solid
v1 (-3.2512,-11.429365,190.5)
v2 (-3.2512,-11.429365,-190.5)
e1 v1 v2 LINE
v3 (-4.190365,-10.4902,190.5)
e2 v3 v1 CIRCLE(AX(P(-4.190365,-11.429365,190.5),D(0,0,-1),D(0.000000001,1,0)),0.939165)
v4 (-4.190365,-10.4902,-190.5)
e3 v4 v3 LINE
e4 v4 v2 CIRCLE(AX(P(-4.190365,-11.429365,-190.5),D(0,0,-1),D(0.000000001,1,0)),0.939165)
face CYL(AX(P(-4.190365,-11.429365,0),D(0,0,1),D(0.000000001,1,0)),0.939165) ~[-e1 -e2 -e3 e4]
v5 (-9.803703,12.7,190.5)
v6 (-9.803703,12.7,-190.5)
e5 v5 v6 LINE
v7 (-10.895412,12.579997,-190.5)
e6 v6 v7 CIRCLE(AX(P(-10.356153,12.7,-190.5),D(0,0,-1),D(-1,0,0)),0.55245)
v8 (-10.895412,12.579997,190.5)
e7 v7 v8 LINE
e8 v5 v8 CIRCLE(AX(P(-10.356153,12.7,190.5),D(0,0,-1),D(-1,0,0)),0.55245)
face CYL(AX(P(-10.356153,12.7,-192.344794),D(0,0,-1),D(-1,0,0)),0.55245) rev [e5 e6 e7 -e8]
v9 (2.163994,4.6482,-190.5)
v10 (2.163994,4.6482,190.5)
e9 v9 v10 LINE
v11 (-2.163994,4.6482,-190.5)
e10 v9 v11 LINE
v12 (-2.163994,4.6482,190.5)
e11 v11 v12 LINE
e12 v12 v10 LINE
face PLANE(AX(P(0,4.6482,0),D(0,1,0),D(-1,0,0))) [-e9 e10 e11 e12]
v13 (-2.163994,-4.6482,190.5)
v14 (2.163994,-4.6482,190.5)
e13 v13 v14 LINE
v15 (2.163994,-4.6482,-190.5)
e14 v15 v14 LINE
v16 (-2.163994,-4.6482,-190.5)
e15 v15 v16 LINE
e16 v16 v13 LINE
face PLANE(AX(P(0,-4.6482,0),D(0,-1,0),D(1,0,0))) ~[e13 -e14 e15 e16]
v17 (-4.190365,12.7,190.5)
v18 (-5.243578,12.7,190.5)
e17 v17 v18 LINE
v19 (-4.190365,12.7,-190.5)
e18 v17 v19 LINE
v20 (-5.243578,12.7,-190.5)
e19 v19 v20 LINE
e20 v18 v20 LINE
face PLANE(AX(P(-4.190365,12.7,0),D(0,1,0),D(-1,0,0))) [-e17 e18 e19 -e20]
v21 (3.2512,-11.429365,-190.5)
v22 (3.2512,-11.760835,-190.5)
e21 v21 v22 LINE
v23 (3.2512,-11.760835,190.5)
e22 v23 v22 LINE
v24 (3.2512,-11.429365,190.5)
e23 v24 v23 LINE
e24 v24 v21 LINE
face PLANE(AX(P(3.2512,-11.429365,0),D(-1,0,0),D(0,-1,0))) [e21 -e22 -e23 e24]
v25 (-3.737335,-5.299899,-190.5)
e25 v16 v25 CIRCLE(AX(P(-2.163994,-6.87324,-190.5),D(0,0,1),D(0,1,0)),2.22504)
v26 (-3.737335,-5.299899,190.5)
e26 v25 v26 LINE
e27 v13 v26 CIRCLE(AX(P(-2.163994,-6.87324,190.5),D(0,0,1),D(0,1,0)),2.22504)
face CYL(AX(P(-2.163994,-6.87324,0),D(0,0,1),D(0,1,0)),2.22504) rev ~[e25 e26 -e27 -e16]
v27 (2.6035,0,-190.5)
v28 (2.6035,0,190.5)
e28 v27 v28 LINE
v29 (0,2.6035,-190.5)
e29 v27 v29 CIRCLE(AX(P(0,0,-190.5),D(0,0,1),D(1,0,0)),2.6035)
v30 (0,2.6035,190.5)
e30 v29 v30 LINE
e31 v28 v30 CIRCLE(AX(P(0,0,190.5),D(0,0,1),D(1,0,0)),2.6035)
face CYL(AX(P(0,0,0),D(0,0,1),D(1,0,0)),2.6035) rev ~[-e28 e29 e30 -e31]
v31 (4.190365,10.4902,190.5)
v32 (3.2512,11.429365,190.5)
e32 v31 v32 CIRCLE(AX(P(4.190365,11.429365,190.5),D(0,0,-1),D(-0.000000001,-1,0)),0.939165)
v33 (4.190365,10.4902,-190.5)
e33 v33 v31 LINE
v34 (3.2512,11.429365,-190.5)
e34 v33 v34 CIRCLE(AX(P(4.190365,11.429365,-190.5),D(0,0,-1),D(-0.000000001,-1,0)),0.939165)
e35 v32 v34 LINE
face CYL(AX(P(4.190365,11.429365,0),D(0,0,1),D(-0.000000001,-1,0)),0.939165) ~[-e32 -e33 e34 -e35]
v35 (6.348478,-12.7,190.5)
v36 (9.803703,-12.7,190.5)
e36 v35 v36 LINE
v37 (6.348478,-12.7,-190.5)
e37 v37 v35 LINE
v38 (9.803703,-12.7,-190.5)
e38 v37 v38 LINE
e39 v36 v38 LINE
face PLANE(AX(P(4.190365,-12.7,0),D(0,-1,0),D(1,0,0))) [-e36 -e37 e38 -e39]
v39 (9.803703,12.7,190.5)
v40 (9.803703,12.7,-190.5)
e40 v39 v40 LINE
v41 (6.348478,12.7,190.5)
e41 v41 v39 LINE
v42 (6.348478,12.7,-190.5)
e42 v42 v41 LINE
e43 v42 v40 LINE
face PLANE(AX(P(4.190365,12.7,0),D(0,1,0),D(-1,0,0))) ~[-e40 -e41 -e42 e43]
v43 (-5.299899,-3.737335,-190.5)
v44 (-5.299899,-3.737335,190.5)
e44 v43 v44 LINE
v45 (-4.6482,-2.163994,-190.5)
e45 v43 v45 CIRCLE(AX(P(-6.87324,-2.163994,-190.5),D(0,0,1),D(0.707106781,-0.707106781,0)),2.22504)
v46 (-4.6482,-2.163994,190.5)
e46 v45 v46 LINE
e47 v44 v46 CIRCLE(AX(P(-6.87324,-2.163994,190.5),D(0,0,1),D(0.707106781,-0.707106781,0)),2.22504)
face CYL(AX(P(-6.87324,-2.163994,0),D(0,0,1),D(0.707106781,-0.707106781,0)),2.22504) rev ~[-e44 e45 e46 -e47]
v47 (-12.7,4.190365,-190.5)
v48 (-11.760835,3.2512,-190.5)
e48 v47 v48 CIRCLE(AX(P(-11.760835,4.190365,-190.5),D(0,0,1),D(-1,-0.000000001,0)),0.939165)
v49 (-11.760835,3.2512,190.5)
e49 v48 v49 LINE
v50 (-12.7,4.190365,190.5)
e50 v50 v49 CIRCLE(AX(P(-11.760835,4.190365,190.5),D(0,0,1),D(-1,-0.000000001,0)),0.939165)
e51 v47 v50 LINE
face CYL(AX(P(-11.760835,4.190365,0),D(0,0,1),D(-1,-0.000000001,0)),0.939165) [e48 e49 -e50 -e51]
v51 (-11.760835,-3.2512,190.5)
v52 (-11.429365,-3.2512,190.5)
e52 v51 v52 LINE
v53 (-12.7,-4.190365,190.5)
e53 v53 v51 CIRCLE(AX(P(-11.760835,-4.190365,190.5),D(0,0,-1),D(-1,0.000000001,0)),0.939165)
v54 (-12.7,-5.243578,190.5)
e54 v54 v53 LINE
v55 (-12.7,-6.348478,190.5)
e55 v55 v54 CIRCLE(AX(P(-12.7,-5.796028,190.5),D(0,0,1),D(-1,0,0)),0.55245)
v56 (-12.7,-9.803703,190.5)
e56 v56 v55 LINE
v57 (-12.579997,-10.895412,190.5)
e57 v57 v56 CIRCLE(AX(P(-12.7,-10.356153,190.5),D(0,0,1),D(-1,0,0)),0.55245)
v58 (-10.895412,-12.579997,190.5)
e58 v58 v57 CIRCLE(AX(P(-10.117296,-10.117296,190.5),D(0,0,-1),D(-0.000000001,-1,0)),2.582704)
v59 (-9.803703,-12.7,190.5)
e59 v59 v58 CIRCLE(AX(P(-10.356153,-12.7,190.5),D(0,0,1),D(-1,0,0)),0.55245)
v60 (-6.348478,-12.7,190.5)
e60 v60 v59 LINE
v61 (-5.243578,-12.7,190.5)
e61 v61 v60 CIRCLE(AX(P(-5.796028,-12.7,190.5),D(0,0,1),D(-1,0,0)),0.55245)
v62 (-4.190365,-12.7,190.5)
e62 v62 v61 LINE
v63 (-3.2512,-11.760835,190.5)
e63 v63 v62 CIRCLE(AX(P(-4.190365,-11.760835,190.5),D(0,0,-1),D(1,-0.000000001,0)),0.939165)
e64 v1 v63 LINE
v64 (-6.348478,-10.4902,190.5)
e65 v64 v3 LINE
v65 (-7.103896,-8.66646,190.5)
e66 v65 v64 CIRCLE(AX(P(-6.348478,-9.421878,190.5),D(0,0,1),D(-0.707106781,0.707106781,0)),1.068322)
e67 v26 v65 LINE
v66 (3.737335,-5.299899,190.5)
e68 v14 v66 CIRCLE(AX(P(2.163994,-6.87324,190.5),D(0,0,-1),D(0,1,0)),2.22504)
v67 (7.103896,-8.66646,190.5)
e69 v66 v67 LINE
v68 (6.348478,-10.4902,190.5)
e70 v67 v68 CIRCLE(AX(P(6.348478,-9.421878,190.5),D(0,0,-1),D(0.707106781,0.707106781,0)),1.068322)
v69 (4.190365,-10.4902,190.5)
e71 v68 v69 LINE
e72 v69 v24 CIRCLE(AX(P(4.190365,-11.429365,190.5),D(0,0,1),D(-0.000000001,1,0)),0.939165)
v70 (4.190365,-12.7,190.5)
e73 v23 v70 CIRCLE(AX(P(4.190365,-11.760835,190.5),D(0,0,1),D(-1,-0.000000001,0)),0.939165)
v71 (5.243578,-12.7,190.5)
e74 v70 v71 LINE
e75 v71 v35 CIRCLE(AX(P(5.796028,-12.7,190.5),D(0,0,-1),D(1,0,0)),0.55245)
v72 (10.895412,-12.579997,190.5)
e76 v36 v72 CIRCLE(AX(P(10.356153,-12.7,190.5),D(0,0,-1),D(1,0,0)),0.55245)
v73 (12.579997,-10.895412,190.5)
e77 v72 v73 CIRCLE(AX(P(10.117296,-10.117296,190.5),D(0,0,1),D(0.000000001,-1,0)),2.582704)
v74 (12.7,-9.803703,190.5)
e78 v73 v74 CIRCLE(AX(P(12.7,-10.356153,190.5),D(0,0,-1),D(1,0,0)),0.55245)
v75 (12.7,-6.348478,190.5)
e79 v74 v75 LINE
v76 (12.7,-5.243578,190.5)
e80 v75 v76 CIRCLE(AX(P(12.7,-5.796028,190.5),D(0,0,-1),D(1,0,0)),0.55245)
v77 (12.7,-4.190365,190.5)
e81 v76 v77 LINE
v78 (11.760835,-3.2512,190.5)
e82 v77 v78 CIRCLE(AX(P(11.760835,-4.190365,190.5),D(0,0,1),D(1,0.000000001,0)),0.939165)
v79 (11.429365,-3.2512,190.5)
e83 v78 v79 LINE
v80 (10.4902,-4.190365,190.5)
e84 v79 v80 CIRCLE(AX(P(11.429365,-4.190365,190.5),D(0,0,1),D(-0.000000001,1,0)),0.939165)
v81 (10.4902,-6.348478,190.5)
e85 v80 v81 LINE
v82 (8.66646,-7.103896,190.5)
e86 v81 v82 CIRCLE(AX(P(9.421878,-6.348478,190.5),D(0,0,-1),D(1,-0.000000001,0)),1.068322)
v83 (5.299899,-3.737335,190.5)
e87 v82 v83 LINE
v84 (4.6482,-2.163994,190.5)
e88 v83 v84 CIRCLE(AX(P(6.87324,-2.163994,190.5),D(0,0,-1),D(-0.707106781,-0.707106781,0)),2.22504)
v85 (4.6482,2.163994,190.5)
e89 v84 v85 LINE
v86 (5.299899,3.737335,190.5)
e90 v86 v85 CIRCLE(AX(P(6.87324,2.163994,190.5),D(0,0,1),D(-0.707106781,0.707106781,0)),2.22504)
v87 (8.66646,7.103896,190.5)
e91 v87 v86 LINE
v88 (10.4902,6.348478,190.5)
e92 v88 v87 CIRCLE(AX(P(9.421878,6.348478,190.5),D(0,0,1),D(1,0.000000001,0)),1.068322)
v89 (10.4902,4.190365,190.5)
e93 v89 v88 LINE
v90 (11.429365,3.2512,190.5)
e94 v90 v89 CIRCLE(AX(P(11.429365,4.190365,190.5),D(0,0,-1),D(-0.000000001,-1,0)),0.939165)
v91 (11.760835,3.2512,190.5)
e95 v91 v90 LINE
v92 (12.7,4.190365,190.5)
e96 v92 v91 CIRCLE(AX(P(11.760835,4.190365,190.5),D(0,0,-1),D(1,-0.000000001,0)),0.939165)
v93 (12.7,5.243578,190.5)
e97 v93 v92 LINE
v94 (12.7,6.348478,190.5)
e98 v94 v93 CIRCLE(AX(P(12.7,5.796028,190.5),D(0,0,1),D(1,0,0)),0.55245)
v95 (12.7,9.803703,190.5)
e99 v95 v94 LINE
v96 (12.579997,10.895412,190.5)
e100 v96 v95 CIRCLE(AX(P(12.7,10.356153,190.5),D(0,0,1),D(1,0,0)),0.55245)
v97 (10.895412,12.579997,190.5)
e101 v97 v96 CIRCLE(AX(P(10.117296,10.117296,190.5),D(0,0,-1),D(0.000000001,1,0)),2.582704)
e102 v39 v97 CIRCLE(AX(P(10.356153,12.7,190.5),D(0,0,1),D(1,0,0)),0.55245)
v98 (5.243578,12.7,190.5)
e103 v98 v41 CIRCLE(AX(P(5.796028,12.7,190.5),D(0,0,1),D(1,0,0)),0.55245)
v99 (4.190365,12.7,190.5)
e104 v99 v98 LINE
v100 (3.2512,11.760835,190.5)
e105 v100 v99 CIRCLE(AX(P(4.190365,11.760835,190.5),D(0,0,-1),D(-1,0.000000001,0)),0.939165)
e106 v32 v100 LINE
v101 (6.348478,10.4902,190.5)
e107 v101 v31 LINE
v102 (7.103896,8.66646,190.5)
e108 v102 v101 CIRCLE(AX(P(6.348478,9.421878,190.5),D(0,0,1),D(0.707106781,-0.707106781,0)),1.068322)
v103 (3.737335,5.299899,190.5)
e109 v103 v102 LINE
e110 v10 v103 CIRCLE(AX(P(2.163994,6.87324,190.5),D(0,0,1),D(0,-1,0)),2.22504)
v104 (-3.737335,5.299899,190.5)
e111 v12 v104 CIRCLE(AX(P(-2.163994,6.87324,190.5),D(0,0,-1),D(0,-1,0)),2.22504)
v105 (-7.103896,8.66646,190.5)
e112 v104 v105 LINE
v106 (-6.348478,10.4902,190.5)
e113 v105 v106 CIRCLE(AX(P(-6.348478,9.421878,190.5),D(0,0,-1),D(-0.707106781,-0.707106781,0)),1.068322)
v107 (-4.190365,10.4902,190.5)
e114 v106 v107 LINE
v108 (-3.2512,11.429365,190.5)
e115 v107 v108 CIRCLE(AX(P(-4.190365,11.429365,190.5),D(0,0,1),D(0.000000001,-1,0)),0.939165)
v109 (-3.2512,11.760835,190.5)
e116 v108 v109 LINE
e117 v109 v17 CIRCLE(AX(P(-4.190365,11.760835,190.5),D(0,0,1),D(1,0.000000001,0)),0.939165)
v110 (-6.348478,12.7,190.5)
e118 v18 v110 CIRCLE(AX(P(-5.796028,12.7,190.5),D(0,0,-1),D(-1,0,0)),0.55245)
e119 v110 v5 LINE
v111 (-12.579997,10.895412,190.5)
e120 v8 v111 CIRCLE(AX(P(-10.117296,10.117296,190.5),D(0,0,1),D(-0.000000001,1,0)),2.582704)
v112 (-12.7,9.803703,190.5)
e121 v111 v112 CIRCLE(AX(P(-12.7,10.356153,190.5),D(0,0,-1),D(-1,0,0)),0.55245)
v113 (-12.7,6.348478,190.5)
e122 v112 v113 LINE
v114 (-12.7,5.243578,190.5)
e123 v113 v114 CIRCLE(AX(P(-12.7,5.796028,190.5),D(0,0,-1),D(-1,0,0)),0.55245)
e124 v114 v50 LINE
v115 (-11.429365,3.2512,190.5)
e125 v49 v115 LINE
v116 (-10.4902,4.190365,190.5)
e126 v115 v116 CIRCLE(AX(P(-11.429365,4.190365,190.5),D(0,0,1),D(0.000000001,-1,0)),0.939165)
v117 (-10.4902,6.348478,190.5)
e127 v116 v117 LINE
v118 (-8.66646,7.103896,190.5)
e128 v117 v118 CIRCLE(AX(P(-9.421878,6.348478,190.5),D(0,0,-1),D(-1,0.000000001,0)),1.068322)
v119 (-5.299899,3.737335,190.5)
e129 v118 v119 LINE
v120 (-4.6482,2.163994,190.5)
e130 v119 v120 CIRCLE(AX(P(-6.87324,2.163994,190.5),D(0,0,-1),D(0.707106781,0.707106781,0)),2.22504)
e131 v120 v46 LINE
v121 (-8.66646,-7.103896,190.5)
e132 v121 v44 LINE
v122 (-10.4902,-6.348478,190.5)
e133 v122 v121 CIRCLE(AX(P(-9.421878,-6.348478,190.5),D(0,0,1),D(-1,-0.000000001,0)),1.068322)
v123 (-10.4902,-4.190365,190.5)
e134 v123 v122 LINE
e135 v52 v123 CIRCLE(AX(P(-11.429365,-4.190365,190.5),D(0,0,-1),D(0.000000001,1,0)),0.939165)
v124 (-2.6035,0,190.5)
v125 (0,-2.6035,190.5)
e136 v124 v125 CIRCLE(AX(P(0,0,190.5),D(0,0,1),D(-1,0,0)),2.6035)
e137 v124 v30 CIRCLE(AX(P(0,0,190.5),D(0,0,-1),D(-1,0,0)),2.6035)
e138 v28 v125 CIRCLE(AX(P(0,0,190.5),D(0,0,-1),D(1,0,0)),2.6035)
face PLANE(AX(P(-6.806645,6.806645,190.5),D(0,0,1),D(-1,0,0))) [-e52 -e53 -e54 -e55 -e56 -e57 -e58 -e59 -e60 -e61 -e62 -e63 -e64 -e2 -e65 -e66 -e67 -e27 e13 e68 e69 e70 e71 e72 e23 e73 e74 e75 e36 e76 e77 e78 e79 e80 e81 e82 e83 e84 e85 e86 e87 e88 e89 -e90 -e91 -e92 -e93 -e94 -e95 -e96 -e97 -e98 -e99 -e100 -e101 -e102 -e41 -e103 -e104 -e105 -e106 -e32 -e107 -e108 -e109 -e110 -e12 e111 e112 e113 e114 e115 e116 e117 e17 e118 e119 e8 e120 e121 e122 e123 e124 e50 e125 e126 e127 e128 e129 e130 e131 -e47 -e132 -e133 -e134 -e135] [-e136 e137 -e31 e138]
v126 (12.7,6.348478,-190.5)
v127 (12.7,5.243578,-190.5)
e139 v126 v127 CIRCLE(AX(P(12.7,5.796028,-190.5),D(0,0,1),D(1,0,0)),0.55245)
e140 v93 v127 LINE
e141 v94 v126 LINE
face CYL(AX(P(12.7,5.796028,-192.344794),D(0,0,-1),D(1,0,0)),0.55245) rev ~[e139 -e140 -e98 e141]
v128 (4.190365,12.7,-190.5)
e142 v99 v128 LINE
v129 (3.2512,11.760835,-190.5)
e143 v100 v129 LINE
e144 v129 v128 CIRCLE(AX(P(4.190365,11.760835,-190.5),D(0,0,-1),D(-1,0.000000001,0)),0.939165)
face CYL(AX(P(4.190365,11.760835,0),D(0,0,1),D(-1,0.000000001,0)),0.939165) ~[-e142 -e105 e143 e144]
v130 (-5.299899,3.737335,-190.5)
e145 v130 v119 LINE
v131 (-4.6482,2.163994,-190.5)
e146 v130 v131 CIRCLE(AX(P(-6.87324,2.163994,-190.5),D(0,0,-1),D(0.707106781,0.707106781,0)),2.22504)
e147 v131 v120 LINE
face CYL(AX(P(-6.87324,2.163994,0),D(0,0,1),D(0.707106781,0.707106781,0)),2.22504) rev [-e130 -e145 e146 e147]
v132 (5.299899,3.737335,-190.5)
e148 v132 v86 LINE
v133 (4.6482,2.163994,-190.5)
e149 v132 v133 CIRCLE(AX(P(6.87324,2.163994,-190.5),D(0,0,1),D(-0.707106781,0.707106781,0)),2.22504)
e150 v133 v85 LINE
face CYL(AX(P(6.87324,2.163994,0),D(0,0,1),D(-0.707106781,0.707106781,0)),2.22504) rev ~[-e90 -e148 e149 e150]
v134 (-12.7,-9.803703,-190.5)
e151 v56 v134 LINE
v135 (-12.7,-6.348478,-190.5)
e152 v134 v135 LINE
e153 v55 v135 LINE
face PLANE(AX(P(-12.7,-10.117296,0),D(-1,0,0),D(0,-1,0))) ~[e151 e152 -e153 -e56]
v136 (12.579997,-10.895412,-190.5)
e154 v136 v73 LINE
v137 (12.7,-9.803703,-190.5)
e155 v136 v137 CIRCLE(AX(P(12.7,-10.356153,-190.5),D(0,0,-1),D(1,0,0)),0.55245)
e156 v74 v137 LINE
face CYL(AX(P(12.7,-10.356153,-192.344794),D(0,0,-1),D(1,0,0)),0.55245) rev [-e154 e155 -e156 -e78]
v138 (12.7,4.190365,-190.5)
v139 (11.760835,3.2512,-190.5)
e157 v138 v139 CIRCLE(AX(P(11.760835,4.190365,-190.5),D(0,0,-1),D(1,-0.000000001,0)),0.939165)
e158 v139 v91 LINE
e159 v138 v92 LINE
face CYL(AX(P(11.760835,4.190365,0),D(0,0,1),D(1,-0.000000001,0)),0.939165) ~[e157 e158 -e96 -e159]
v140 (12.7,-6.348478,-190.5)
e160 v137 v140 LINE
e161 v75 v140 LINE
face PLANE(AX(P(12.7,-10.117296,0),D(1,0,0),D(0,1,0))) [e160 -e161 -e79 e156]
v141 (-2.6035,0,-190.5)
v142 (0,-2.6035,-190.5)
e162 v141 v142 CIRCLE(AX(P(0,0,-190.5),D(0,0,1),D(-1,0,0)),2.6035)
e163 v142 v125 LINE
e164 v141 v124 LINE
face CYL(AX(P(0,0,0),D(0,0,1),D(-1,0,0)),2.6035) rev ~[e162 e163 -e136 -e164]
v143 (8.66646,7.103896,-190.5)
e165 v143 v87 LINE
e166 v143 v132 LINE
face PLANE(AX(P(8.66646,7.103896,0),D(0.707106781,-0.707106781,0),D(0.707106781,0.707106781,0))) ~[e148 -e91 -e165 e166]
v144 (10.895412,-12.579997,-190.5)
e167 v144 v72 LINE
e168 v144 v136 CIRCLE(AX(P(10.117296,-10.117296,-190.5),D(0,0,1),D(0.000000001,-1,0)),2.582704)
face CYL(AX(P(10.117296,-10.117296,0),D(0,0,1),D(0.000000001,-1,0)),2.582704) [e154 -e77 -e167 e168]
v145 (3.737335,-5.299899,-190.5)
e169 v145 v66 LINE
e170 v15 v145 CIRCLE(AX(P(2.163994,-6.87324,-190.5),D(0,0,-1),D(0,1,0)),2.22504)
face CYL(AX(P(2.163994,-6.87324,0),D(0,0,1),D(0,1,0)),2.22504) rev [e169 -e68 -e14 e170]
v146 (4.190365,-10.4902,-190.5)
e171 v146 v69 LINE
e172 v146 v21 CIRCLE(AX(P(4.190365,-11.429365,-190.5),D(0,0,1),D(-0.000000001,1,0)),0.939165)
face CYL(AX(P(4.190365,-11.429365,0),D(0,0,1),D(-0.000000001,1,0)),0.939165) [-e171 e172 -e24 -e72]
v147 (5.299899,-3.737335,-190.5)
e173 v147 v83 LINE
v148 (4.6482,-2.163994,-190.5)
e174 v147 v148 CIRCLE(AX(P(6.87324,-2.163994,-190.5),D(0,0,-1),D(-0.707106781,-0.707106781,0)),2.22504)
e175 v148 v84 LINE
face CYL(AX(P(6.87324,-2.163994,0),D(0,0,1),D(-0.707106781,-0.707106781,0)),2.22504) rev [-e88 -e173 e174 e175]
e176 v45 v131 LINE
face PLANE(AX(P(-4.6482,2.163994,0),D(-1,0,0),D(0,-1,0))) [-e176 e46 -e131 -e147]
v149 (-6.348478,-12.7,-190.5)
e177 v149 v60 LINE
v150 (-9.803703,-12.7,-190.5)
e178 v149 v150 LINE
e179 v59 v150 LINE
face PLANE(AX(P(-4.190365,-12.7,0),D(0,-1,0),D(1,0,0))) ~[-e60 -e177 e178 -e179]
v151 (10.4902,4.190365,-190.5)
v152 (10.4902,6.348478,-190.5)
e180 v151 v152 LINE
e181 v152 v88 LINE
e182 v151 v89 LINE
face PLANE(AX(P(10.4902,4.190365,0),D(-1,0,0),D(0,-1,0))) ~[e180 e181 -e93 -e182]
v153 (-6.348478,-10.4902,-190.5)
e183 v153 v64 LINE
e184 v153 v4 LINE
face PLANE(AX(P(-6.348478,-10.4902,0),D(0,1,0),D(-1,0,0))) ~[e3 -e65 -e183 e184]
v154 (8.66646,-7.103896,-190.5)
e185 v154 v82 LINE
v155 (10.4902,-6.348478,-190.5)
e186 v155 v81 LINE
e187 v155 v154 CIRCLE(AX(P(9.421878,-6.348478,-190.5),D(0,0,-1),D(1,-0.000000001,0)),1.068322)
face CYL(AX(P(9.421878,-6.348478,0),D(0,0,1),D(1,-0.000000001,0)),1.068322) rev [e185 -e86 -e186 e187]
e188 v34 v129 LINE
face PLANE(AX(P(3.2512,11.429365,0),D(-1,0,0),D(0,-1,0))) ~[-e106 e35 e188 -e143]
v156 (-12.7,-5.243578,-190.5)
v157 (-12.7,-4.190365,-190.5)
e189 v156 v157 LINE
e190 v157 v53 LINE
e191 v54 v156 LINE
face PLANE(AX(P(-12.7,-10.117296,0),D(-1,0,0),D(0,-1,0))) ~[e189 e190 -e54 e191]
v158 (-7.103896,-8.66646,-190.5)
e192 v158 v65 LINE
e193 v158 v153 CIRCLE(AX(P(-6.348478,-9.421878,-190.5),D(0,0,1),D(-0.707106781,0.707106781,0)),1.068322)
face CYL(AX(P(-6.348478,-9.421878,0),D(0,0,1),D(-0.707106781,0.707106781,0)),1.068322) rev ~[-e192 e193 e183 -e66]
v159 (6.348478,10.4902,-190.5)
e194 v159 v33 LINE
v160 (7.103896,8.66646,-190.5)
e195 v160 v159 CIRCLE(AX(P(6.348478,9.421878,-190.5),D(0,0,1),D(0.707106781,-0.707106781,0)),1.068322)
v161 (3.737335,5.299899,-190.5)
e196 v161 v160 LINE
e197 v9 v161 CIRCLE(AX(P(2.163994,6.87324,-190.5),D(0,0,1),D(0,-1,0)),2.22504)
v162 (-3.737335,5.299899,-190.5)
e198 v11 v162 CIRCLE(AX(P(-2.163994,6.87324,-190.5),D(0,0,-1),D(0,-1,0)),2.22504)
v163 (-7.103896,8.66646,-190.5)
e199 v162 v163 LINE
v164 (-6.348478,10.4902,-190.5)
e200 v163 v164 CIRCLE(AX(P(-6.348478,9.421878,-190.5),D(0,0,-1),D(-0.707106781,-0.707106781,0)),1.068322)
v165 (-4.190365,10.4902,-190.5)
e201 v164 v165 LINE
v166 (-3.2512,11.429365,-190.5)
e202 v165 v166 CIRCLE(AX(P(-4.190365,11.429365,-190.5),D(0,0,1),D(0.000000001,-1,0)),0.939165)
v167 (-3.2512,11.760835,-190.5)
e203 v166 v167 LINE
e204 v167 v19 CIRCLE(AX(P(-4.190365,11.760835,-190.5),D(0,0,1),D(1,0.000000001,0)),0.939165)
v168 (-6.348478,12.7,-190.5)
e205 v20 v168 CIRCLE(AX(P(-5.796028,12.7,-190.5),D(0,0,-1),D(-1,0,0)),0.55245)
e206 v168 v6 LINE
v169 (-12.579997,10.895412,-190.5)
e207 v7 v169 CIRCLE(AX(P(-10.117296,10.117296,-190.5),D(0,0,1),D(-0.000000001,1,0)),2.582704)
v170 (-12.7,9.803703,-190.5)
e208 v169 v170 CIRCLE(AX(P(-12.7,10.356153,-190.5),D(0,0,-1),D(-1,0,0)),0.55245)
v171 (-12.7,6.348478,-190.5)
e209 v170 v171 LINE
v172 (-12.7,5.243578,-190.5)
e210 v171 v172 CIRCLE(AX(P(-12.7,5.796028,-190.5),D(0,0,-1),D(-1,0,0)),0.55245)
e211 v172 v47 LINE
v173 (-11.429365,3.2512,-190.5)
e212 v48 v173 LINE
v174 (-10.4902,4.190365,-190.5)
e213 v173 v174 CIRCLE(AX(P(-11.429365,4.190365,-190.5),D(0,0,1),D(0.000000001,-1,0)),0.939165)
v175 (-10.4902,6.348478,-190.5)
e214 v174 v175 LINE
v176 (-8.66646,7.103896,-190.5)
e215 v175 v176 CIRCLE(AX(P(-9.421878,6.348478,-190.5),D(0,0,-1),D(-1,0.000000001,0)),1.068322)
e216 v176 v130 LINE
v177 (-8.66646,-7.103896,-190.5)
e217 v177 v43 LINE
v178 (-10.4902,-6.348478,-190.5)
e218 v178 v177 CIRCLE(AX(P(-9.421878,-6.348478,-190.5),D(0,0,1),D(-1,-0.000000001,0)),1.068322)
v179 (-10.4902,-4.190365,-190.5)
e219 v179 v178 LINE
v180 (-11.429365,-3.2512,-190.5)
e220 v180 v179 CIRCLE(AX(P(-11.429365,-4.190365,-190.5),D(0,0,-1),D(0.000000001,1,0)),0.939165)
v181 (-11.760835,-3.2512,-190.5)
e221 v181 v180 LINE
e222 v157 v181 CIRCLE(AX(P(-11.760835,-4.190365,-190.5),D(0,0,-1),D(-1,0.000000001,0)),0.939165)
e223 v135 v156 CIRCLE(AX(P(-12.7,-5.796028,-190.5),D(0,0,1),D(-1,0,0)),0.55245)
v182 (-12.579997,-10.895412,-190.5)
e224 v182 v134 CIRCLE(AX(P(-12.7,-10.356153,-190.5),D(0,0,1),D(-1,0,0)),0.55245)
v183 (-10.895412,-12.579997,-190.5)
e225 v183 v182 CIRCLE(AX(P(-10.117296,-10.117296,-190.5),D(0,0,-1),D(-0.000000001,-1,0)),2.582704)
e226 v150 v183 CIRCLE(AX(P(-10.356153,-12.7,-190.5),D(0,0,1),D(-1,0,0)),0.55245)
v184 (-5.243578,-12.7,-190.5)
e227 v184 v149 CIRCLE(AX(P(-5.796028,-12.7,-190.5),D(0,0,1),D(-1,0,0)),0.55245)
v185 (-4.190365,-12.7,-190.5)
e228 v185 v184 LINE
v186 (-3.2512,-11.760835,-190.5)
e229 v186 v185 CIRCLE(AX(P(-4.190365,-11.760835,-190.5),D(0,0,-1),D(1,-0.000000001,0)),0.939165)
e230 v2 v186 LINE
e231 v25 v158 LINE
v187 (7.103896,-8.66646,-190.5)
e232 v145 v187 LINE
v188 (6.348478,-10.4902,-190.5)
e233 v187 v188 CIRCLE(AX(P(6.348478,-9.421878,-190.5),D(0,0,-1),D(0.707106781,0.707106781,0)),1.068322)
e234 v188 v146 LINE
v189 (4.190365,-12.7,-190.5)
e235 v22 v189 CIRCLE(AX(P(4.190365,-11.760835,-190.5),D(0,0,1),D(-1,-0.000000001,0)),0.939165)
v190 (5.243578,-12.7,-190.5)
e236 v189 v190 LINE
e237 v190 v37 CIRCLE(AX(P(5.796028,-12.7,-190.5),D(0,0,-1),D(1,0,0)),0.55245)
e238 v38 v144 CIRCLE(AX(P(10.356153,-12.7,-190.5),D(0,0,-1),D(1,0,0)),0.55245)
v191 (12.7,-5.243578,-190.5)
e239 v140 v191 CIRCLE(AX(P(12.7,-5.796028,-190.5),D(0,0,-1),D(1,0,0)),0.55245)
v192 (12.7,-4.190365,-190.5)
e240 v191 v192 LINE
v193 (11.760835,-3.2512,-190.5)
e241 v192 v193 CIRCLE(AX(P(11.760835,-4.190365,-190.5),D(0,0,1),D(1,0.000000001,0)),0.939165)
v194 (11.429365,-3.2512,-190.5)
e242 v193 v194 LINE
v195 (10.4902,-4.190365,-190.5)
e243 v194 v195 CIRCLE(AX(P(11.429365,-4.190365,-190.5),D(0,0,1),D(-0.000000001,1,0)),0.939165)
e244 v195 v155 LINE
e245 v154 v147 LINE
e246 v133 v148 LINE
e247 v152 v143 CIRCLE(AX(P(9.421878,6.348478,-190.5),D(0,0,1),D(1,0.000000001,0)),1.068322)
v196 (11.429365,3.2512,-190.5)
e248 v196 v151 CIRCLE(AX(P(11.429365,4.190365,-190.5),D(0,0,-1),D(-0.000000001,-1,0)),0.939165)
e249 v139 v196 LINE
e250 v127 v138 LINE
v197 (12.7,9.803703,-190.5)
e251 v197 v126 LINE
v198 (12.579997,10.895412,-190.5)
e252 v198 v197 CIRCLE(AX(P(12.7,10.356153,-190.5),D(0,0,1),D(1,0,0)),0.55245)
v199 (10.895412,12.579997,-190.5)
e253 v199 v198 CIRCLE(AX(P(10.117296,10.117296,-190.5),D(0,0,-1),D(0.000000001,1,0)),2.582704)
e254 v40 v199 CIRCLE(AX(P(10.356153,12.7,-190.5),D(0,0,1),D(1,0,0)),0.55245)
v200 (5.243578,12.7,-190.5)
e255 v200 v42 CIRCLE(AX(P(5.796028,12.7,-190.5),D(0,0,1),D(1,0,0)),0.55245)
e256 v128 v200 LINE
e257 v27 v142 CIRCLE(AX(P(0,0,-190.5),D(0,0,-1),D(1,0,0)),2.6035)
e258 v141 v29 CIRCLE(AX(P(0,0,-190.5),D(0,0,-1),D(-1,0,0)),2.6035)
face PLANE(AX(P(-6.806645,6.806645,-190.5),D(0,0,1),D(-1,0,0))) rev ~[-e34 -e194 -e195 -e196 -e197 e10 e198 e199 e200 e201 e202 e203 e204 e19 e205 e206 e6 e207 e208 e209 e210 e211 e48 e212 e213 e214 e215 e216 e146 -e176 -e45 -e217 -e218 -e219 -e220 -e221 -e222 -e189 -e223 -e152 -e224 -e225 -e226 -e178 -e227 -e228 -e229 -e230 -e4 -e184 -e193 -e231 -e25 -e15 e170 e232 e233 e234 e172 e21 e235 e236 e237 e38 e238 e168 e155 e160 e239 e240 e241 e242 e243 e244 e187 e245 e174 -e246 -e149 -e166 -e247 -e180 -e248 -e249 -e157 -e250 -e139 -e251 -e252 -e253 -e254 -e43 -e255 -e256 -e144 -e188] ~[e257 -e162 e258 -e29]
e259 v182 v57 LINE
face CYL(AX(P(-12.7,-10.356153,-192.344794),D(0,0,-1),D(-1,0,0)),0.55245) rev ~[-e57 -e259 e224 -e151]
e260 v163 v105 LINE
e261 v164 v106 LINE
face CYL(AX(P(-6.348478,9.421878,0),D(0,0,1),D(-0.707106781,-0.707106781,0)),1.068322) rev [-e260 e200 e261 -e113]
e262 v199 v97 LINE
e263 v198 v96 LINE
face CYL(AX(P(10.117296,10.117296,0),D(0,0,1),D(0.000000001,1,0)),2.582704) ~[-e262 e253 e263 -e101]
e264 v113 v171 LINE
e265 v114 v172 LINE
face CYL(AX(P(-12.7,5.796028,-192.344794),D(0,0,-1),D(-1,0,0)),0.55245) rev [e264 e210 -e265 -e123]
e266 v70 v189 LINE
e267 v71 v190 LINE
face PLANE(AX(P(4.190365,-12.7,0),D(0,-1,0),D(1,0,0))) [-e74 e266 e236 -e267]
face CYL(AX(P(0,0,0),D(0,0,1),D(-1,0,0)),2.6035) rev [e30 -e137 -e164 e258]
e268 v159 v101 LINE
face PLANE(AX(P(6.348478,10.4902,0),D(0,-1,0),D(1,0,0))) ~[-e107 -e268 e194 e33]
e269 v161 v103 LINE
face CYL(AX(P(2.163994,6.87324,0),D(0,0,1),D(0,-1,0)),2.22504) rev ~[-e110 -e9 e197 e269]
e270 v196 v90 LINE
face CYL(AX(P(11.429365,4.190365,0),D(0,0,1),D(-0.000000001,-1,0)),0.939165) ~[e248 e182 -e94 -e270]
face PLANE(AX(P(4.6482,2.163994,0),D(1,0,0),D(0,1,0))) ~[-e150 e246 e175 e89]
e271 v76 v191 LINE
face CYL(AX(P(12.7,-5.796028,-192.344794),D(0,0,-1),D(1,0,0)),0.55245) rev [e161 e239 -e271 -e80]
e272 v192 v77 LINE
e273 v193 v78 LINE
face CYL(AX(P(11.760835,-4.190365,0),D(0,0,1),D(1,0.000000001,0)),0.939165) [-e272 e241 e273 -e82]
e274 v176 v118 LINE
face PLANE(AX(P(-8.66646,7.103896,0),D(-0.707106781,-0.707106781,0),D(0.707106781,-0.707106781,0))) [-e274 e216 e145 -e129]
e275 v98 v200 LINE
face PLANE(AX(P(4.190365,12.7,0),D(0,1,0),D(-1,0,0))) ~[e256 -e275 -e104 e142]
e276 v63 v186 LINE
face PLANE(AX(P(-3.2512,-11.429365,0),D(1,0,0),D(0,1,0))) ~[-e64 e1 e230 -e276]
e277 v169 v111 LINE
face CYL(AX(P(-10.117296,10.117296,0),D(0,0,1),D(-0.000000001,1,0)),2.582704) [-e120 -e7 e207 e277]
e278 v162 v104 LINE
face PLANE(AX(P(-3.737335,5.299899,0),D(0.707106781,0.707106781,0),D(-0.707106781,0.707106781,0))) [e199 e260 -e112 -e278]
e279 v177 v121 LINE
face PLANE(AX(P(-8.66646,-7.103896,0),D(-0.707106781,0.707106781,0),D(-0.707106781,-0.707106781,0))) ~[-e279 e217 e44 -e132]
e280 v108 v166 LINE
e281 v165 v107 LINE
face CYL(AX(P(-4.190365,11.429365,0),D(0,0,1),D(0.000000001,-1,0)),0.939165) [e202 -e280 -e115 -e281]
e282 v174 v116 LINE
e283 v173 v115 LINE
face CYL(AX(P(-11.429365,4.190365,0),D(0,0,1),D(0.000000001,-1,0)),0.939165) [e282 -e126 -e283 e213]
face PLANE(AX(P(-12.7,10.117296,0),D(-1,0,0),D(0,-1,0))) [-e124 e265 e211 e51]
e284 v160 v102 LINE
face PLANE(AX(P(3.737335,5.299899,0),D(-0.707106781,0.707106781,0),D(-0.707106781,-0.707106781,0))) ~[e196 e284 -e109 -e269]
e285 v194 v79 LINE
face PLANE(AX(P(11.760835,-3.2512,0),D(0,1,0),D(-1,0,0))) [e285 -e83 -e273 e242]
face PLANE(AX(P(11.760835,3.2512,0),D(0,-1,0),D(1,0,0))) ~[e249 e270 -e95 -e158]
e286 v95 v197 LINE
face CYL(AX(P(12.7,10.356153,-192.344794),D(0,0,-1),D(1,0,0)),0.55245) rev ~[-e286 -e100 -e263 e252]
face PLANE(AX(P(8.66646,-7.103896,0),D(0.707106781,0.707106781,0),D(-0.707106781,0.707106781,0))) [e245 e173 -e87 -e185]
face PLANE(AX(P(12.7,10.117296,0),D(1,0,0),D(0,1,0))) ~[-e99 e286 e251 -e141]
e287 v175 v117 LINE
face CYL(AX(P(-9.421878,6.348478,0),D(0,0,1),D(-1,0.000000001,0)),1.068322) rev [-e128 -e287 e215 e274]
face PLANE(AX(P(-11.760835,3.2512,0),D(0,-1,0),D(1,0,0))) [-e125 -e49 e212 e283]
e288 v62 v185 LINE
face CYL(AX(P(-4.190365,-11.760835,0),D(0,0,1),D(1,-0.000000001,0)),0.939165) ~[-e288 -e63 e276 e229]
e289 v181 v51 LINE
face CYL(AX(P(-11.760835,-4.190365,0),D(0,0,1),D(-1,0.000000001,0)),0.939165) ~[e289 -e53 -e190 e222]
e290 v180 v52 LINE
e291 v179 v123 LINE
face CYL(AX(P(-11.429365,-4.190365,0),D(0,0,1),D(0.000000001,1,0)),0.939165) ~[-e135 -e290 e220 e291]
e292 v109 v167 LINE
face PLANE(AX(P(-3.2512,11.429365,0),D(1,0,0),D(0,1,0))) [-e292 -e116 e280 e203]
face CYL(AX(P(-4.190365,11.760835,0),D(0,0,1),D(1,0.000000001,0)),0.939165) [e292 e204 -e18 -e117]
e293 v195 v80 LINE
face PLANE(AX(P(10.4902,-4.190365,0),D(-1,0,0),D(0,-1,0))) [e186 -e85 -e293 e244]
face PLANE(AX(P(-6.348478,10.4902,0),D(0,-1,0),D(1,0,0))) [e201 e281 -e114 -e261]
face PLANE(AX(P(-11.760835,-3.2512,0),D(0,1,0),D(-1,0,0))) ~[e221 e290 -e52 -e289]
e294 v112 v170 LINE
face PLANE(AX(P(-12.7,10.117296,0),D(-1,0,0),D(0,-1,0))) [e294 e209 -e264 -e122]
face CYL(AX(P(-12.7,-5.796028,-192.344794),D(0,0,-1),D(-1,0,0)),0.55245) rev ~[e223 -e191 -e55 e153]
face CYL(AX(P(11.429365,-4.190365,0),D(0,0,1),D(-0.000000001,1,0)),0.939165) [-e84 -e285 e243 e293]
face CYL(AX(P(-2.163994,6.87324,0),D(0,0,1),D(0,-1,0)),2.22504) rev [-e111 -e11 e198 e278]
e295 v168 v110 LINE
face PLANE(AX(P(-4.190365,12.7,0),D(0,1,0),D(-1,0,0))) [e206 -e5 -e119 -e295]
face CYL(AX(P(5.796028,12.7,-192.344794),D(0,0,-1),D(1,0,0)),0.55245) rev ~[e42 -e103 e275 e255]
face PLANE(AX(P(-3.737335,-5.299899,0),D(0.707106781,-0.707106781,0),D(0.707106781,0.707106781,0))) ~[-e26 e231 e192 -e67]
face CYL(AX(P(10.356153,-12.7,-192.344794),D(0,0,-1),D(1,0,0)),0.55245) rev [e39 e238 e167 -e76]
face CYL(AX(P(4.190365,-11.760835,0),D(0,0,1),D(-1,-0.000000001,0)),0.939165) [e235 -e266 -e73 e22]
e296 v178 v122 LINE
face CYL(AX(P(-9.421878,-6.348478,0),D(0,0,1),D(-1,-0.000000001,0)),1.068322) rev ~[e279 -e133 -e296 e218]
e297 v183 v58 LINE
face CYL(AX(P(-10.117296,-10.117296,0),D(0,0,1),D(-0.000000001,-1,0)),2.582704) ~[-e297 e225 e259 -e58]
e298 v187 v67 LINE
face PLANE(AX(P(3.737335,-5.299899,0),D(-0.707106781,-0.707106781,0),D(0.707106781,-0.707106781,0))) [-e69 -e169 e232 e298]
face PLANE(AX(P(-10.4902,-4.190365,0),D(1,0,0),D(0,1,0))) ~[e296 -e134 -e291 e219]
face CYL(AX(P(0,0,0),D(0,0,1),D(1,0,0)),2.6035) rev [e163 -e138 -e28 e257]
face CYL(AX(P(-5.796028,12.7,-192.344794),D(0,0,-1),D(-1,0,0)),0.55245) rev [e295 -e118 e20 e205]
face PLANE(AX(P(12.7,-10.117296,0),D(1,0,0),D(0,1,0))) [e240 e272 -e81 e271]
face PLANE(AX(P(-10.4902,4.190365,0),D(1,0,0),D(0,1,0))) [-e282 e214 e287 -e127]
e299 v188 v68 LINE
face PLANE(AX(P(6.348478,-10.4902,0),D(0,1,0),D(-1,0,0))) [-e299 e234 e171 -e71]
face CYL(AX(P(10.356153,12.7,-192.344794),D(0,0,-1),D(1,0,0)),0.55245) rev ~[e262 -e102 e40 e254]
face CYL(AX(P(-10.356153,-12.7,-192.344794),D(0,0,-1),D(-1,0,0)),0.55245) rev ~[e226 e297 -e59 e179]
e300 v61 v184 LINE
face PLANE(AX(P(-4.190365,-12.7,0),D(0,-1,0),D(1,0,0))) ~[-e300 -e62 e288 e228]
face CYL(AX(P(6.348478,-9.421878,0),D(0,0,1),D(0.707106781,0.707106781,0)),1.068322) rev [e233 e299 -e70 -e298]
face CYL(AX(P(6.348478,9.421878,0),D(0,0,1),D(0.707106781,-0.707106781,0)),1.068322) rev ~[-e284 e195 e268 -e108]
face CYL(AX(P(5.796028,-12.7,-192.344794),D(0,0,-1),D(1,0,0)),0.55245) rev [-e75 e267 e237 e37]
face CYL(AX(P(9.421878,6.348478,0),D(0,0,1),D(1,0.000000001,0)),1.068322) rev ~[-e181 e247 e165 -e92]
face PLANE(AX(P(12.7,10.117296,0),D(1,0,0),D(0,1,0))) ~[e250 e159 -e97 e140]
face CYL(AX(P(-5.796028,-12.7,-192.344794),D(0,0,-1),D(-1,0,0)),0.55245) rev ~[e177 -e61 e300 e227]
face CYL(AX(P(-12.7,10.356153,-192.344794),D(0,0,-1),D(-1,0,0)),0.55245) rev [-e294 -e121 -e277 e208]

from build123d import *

# Parameters (mm, degrees)
BOSS_EXTRUDE1_DEPTH     = 190.5
CUT_EXTRUDE1_DEPTH      = 192.344793501
CUT_EXTRUDE1_DEPTH_BACK = 192.344793501
SKETCH5_R               = 0.55245


with BuildPart() as part:
    # Sketch4 → Boss-Extrude1 (new, symmetric)
    with BuildSketch(Plane.XY):
        with BuildLine():
            Line((4.190365, -12.7), (10.11729625, -12.7))
            ThreePointArc((10.11729625, -12.7), (11.943543585, -11.943543585), (12.7, -10.11729625))
            Line((12.7, -10.11729625), (12.7, -4.190365))
            ThreePointArc((12.7, -4.190365), (12.42492494, -3.52627506), (11.760835, -3.2512))
            Line((11.760835, -3.2512), (11.429365, -3.2512))
            ThreePointArc((11.429365, -3.2512), (10.76527506, -3.52627506), (10.4902, -4.190365))
            Line((10.4902, -4.190365), (10.4902, -6.348478019))
            ThreePointArc((10.4902, -6.348478019), (9.830707141, -7.335478831), (8.666460301, -7.103895736))
            Line((8.666460301, -7.103895736), (5.299899128, -3.737334563))
            ThreePointArc((5.299899128, -3.737334563), (4.817571085, -3.015479634), (4.6482, -2.16399369))
            Line((4.6482, -2.16399369), (4.6482, 0))
            Line((4.6482, 0), (2.6035, 0))
            ThreePointArc((2.6035, 0), (1.840952505, -1.840952505), (0, -2.6035))
            Line((0, -2.6035), (0, -4.6482))
            Line((0, -4.6482), (2.16399369, -4.6482))
            ThreePointArc((2.16399369, -4.6482), (3.015479634, -4.817571085), (3.737334563, -5.299899128))
            Line((3.737334563, -5.299899128), (7.103895736, -8.666460301))
            ThreePointArc((7.103895736, -8.666460301), (7.335478831, -9.830707141), (6.348478019, -10.4902))
            Line((6.348478019, -10.4902), (4.190365, -10.4902))
            ThreePointArc((4.190365, -10.4902), (3.52627506, -10.76527506), (3.2512, -11.429365))
            Line((3.2512, -11.429365), (3.2512, -11.760835))
            ThreePointArc((3.2512, -11.760835), (3.52627506, -12.42492494), (4.190365, -12.7))
        make_face()
    extrude(amount=BOSS_EXTRUDE1_DEPTH, both=True)

    # Sketch5 → Cut-Extrude1 (cut, two sides: drawn at the far end of the back side and taken through both)
    with BuildSketch(Plane.XY.offset(-CUT_EXTRUDE1_DEPTH_BACK)):
        with Locations((10.356153152, -12.7)):
            Circle(SKETCH5_R)
        with Locations((5.796028019, -12.7)):
            Circle(SKETCH5_R)
        with Locations((12.7, -10.356153152)):
            Circle(SKETCH5_R)
        with Locations((12.7, -5.796028019)):
            Circle(SKETCH5_R)
    extrude(amount=CUT_EXTRUDE1_DEPTH + CUT_EXTRUDE1_DEPTH_BACK, mode=Mode.SUBTRACT)

    # Mirror1: part across plane


with BuildPart() as part_1:
    add(part.part)
    add(part.part.mirror(Plane(origin=(0, 0, 0), x_dir=(0, 0, 1), z_dir=(1, 0, 0))))

    # Mirror2: part across plane


with BuildPart() as part_2:
    add(part_1.part)
    add(part_1.part.mirror(Plane.ZX))


solid = part_2.part
